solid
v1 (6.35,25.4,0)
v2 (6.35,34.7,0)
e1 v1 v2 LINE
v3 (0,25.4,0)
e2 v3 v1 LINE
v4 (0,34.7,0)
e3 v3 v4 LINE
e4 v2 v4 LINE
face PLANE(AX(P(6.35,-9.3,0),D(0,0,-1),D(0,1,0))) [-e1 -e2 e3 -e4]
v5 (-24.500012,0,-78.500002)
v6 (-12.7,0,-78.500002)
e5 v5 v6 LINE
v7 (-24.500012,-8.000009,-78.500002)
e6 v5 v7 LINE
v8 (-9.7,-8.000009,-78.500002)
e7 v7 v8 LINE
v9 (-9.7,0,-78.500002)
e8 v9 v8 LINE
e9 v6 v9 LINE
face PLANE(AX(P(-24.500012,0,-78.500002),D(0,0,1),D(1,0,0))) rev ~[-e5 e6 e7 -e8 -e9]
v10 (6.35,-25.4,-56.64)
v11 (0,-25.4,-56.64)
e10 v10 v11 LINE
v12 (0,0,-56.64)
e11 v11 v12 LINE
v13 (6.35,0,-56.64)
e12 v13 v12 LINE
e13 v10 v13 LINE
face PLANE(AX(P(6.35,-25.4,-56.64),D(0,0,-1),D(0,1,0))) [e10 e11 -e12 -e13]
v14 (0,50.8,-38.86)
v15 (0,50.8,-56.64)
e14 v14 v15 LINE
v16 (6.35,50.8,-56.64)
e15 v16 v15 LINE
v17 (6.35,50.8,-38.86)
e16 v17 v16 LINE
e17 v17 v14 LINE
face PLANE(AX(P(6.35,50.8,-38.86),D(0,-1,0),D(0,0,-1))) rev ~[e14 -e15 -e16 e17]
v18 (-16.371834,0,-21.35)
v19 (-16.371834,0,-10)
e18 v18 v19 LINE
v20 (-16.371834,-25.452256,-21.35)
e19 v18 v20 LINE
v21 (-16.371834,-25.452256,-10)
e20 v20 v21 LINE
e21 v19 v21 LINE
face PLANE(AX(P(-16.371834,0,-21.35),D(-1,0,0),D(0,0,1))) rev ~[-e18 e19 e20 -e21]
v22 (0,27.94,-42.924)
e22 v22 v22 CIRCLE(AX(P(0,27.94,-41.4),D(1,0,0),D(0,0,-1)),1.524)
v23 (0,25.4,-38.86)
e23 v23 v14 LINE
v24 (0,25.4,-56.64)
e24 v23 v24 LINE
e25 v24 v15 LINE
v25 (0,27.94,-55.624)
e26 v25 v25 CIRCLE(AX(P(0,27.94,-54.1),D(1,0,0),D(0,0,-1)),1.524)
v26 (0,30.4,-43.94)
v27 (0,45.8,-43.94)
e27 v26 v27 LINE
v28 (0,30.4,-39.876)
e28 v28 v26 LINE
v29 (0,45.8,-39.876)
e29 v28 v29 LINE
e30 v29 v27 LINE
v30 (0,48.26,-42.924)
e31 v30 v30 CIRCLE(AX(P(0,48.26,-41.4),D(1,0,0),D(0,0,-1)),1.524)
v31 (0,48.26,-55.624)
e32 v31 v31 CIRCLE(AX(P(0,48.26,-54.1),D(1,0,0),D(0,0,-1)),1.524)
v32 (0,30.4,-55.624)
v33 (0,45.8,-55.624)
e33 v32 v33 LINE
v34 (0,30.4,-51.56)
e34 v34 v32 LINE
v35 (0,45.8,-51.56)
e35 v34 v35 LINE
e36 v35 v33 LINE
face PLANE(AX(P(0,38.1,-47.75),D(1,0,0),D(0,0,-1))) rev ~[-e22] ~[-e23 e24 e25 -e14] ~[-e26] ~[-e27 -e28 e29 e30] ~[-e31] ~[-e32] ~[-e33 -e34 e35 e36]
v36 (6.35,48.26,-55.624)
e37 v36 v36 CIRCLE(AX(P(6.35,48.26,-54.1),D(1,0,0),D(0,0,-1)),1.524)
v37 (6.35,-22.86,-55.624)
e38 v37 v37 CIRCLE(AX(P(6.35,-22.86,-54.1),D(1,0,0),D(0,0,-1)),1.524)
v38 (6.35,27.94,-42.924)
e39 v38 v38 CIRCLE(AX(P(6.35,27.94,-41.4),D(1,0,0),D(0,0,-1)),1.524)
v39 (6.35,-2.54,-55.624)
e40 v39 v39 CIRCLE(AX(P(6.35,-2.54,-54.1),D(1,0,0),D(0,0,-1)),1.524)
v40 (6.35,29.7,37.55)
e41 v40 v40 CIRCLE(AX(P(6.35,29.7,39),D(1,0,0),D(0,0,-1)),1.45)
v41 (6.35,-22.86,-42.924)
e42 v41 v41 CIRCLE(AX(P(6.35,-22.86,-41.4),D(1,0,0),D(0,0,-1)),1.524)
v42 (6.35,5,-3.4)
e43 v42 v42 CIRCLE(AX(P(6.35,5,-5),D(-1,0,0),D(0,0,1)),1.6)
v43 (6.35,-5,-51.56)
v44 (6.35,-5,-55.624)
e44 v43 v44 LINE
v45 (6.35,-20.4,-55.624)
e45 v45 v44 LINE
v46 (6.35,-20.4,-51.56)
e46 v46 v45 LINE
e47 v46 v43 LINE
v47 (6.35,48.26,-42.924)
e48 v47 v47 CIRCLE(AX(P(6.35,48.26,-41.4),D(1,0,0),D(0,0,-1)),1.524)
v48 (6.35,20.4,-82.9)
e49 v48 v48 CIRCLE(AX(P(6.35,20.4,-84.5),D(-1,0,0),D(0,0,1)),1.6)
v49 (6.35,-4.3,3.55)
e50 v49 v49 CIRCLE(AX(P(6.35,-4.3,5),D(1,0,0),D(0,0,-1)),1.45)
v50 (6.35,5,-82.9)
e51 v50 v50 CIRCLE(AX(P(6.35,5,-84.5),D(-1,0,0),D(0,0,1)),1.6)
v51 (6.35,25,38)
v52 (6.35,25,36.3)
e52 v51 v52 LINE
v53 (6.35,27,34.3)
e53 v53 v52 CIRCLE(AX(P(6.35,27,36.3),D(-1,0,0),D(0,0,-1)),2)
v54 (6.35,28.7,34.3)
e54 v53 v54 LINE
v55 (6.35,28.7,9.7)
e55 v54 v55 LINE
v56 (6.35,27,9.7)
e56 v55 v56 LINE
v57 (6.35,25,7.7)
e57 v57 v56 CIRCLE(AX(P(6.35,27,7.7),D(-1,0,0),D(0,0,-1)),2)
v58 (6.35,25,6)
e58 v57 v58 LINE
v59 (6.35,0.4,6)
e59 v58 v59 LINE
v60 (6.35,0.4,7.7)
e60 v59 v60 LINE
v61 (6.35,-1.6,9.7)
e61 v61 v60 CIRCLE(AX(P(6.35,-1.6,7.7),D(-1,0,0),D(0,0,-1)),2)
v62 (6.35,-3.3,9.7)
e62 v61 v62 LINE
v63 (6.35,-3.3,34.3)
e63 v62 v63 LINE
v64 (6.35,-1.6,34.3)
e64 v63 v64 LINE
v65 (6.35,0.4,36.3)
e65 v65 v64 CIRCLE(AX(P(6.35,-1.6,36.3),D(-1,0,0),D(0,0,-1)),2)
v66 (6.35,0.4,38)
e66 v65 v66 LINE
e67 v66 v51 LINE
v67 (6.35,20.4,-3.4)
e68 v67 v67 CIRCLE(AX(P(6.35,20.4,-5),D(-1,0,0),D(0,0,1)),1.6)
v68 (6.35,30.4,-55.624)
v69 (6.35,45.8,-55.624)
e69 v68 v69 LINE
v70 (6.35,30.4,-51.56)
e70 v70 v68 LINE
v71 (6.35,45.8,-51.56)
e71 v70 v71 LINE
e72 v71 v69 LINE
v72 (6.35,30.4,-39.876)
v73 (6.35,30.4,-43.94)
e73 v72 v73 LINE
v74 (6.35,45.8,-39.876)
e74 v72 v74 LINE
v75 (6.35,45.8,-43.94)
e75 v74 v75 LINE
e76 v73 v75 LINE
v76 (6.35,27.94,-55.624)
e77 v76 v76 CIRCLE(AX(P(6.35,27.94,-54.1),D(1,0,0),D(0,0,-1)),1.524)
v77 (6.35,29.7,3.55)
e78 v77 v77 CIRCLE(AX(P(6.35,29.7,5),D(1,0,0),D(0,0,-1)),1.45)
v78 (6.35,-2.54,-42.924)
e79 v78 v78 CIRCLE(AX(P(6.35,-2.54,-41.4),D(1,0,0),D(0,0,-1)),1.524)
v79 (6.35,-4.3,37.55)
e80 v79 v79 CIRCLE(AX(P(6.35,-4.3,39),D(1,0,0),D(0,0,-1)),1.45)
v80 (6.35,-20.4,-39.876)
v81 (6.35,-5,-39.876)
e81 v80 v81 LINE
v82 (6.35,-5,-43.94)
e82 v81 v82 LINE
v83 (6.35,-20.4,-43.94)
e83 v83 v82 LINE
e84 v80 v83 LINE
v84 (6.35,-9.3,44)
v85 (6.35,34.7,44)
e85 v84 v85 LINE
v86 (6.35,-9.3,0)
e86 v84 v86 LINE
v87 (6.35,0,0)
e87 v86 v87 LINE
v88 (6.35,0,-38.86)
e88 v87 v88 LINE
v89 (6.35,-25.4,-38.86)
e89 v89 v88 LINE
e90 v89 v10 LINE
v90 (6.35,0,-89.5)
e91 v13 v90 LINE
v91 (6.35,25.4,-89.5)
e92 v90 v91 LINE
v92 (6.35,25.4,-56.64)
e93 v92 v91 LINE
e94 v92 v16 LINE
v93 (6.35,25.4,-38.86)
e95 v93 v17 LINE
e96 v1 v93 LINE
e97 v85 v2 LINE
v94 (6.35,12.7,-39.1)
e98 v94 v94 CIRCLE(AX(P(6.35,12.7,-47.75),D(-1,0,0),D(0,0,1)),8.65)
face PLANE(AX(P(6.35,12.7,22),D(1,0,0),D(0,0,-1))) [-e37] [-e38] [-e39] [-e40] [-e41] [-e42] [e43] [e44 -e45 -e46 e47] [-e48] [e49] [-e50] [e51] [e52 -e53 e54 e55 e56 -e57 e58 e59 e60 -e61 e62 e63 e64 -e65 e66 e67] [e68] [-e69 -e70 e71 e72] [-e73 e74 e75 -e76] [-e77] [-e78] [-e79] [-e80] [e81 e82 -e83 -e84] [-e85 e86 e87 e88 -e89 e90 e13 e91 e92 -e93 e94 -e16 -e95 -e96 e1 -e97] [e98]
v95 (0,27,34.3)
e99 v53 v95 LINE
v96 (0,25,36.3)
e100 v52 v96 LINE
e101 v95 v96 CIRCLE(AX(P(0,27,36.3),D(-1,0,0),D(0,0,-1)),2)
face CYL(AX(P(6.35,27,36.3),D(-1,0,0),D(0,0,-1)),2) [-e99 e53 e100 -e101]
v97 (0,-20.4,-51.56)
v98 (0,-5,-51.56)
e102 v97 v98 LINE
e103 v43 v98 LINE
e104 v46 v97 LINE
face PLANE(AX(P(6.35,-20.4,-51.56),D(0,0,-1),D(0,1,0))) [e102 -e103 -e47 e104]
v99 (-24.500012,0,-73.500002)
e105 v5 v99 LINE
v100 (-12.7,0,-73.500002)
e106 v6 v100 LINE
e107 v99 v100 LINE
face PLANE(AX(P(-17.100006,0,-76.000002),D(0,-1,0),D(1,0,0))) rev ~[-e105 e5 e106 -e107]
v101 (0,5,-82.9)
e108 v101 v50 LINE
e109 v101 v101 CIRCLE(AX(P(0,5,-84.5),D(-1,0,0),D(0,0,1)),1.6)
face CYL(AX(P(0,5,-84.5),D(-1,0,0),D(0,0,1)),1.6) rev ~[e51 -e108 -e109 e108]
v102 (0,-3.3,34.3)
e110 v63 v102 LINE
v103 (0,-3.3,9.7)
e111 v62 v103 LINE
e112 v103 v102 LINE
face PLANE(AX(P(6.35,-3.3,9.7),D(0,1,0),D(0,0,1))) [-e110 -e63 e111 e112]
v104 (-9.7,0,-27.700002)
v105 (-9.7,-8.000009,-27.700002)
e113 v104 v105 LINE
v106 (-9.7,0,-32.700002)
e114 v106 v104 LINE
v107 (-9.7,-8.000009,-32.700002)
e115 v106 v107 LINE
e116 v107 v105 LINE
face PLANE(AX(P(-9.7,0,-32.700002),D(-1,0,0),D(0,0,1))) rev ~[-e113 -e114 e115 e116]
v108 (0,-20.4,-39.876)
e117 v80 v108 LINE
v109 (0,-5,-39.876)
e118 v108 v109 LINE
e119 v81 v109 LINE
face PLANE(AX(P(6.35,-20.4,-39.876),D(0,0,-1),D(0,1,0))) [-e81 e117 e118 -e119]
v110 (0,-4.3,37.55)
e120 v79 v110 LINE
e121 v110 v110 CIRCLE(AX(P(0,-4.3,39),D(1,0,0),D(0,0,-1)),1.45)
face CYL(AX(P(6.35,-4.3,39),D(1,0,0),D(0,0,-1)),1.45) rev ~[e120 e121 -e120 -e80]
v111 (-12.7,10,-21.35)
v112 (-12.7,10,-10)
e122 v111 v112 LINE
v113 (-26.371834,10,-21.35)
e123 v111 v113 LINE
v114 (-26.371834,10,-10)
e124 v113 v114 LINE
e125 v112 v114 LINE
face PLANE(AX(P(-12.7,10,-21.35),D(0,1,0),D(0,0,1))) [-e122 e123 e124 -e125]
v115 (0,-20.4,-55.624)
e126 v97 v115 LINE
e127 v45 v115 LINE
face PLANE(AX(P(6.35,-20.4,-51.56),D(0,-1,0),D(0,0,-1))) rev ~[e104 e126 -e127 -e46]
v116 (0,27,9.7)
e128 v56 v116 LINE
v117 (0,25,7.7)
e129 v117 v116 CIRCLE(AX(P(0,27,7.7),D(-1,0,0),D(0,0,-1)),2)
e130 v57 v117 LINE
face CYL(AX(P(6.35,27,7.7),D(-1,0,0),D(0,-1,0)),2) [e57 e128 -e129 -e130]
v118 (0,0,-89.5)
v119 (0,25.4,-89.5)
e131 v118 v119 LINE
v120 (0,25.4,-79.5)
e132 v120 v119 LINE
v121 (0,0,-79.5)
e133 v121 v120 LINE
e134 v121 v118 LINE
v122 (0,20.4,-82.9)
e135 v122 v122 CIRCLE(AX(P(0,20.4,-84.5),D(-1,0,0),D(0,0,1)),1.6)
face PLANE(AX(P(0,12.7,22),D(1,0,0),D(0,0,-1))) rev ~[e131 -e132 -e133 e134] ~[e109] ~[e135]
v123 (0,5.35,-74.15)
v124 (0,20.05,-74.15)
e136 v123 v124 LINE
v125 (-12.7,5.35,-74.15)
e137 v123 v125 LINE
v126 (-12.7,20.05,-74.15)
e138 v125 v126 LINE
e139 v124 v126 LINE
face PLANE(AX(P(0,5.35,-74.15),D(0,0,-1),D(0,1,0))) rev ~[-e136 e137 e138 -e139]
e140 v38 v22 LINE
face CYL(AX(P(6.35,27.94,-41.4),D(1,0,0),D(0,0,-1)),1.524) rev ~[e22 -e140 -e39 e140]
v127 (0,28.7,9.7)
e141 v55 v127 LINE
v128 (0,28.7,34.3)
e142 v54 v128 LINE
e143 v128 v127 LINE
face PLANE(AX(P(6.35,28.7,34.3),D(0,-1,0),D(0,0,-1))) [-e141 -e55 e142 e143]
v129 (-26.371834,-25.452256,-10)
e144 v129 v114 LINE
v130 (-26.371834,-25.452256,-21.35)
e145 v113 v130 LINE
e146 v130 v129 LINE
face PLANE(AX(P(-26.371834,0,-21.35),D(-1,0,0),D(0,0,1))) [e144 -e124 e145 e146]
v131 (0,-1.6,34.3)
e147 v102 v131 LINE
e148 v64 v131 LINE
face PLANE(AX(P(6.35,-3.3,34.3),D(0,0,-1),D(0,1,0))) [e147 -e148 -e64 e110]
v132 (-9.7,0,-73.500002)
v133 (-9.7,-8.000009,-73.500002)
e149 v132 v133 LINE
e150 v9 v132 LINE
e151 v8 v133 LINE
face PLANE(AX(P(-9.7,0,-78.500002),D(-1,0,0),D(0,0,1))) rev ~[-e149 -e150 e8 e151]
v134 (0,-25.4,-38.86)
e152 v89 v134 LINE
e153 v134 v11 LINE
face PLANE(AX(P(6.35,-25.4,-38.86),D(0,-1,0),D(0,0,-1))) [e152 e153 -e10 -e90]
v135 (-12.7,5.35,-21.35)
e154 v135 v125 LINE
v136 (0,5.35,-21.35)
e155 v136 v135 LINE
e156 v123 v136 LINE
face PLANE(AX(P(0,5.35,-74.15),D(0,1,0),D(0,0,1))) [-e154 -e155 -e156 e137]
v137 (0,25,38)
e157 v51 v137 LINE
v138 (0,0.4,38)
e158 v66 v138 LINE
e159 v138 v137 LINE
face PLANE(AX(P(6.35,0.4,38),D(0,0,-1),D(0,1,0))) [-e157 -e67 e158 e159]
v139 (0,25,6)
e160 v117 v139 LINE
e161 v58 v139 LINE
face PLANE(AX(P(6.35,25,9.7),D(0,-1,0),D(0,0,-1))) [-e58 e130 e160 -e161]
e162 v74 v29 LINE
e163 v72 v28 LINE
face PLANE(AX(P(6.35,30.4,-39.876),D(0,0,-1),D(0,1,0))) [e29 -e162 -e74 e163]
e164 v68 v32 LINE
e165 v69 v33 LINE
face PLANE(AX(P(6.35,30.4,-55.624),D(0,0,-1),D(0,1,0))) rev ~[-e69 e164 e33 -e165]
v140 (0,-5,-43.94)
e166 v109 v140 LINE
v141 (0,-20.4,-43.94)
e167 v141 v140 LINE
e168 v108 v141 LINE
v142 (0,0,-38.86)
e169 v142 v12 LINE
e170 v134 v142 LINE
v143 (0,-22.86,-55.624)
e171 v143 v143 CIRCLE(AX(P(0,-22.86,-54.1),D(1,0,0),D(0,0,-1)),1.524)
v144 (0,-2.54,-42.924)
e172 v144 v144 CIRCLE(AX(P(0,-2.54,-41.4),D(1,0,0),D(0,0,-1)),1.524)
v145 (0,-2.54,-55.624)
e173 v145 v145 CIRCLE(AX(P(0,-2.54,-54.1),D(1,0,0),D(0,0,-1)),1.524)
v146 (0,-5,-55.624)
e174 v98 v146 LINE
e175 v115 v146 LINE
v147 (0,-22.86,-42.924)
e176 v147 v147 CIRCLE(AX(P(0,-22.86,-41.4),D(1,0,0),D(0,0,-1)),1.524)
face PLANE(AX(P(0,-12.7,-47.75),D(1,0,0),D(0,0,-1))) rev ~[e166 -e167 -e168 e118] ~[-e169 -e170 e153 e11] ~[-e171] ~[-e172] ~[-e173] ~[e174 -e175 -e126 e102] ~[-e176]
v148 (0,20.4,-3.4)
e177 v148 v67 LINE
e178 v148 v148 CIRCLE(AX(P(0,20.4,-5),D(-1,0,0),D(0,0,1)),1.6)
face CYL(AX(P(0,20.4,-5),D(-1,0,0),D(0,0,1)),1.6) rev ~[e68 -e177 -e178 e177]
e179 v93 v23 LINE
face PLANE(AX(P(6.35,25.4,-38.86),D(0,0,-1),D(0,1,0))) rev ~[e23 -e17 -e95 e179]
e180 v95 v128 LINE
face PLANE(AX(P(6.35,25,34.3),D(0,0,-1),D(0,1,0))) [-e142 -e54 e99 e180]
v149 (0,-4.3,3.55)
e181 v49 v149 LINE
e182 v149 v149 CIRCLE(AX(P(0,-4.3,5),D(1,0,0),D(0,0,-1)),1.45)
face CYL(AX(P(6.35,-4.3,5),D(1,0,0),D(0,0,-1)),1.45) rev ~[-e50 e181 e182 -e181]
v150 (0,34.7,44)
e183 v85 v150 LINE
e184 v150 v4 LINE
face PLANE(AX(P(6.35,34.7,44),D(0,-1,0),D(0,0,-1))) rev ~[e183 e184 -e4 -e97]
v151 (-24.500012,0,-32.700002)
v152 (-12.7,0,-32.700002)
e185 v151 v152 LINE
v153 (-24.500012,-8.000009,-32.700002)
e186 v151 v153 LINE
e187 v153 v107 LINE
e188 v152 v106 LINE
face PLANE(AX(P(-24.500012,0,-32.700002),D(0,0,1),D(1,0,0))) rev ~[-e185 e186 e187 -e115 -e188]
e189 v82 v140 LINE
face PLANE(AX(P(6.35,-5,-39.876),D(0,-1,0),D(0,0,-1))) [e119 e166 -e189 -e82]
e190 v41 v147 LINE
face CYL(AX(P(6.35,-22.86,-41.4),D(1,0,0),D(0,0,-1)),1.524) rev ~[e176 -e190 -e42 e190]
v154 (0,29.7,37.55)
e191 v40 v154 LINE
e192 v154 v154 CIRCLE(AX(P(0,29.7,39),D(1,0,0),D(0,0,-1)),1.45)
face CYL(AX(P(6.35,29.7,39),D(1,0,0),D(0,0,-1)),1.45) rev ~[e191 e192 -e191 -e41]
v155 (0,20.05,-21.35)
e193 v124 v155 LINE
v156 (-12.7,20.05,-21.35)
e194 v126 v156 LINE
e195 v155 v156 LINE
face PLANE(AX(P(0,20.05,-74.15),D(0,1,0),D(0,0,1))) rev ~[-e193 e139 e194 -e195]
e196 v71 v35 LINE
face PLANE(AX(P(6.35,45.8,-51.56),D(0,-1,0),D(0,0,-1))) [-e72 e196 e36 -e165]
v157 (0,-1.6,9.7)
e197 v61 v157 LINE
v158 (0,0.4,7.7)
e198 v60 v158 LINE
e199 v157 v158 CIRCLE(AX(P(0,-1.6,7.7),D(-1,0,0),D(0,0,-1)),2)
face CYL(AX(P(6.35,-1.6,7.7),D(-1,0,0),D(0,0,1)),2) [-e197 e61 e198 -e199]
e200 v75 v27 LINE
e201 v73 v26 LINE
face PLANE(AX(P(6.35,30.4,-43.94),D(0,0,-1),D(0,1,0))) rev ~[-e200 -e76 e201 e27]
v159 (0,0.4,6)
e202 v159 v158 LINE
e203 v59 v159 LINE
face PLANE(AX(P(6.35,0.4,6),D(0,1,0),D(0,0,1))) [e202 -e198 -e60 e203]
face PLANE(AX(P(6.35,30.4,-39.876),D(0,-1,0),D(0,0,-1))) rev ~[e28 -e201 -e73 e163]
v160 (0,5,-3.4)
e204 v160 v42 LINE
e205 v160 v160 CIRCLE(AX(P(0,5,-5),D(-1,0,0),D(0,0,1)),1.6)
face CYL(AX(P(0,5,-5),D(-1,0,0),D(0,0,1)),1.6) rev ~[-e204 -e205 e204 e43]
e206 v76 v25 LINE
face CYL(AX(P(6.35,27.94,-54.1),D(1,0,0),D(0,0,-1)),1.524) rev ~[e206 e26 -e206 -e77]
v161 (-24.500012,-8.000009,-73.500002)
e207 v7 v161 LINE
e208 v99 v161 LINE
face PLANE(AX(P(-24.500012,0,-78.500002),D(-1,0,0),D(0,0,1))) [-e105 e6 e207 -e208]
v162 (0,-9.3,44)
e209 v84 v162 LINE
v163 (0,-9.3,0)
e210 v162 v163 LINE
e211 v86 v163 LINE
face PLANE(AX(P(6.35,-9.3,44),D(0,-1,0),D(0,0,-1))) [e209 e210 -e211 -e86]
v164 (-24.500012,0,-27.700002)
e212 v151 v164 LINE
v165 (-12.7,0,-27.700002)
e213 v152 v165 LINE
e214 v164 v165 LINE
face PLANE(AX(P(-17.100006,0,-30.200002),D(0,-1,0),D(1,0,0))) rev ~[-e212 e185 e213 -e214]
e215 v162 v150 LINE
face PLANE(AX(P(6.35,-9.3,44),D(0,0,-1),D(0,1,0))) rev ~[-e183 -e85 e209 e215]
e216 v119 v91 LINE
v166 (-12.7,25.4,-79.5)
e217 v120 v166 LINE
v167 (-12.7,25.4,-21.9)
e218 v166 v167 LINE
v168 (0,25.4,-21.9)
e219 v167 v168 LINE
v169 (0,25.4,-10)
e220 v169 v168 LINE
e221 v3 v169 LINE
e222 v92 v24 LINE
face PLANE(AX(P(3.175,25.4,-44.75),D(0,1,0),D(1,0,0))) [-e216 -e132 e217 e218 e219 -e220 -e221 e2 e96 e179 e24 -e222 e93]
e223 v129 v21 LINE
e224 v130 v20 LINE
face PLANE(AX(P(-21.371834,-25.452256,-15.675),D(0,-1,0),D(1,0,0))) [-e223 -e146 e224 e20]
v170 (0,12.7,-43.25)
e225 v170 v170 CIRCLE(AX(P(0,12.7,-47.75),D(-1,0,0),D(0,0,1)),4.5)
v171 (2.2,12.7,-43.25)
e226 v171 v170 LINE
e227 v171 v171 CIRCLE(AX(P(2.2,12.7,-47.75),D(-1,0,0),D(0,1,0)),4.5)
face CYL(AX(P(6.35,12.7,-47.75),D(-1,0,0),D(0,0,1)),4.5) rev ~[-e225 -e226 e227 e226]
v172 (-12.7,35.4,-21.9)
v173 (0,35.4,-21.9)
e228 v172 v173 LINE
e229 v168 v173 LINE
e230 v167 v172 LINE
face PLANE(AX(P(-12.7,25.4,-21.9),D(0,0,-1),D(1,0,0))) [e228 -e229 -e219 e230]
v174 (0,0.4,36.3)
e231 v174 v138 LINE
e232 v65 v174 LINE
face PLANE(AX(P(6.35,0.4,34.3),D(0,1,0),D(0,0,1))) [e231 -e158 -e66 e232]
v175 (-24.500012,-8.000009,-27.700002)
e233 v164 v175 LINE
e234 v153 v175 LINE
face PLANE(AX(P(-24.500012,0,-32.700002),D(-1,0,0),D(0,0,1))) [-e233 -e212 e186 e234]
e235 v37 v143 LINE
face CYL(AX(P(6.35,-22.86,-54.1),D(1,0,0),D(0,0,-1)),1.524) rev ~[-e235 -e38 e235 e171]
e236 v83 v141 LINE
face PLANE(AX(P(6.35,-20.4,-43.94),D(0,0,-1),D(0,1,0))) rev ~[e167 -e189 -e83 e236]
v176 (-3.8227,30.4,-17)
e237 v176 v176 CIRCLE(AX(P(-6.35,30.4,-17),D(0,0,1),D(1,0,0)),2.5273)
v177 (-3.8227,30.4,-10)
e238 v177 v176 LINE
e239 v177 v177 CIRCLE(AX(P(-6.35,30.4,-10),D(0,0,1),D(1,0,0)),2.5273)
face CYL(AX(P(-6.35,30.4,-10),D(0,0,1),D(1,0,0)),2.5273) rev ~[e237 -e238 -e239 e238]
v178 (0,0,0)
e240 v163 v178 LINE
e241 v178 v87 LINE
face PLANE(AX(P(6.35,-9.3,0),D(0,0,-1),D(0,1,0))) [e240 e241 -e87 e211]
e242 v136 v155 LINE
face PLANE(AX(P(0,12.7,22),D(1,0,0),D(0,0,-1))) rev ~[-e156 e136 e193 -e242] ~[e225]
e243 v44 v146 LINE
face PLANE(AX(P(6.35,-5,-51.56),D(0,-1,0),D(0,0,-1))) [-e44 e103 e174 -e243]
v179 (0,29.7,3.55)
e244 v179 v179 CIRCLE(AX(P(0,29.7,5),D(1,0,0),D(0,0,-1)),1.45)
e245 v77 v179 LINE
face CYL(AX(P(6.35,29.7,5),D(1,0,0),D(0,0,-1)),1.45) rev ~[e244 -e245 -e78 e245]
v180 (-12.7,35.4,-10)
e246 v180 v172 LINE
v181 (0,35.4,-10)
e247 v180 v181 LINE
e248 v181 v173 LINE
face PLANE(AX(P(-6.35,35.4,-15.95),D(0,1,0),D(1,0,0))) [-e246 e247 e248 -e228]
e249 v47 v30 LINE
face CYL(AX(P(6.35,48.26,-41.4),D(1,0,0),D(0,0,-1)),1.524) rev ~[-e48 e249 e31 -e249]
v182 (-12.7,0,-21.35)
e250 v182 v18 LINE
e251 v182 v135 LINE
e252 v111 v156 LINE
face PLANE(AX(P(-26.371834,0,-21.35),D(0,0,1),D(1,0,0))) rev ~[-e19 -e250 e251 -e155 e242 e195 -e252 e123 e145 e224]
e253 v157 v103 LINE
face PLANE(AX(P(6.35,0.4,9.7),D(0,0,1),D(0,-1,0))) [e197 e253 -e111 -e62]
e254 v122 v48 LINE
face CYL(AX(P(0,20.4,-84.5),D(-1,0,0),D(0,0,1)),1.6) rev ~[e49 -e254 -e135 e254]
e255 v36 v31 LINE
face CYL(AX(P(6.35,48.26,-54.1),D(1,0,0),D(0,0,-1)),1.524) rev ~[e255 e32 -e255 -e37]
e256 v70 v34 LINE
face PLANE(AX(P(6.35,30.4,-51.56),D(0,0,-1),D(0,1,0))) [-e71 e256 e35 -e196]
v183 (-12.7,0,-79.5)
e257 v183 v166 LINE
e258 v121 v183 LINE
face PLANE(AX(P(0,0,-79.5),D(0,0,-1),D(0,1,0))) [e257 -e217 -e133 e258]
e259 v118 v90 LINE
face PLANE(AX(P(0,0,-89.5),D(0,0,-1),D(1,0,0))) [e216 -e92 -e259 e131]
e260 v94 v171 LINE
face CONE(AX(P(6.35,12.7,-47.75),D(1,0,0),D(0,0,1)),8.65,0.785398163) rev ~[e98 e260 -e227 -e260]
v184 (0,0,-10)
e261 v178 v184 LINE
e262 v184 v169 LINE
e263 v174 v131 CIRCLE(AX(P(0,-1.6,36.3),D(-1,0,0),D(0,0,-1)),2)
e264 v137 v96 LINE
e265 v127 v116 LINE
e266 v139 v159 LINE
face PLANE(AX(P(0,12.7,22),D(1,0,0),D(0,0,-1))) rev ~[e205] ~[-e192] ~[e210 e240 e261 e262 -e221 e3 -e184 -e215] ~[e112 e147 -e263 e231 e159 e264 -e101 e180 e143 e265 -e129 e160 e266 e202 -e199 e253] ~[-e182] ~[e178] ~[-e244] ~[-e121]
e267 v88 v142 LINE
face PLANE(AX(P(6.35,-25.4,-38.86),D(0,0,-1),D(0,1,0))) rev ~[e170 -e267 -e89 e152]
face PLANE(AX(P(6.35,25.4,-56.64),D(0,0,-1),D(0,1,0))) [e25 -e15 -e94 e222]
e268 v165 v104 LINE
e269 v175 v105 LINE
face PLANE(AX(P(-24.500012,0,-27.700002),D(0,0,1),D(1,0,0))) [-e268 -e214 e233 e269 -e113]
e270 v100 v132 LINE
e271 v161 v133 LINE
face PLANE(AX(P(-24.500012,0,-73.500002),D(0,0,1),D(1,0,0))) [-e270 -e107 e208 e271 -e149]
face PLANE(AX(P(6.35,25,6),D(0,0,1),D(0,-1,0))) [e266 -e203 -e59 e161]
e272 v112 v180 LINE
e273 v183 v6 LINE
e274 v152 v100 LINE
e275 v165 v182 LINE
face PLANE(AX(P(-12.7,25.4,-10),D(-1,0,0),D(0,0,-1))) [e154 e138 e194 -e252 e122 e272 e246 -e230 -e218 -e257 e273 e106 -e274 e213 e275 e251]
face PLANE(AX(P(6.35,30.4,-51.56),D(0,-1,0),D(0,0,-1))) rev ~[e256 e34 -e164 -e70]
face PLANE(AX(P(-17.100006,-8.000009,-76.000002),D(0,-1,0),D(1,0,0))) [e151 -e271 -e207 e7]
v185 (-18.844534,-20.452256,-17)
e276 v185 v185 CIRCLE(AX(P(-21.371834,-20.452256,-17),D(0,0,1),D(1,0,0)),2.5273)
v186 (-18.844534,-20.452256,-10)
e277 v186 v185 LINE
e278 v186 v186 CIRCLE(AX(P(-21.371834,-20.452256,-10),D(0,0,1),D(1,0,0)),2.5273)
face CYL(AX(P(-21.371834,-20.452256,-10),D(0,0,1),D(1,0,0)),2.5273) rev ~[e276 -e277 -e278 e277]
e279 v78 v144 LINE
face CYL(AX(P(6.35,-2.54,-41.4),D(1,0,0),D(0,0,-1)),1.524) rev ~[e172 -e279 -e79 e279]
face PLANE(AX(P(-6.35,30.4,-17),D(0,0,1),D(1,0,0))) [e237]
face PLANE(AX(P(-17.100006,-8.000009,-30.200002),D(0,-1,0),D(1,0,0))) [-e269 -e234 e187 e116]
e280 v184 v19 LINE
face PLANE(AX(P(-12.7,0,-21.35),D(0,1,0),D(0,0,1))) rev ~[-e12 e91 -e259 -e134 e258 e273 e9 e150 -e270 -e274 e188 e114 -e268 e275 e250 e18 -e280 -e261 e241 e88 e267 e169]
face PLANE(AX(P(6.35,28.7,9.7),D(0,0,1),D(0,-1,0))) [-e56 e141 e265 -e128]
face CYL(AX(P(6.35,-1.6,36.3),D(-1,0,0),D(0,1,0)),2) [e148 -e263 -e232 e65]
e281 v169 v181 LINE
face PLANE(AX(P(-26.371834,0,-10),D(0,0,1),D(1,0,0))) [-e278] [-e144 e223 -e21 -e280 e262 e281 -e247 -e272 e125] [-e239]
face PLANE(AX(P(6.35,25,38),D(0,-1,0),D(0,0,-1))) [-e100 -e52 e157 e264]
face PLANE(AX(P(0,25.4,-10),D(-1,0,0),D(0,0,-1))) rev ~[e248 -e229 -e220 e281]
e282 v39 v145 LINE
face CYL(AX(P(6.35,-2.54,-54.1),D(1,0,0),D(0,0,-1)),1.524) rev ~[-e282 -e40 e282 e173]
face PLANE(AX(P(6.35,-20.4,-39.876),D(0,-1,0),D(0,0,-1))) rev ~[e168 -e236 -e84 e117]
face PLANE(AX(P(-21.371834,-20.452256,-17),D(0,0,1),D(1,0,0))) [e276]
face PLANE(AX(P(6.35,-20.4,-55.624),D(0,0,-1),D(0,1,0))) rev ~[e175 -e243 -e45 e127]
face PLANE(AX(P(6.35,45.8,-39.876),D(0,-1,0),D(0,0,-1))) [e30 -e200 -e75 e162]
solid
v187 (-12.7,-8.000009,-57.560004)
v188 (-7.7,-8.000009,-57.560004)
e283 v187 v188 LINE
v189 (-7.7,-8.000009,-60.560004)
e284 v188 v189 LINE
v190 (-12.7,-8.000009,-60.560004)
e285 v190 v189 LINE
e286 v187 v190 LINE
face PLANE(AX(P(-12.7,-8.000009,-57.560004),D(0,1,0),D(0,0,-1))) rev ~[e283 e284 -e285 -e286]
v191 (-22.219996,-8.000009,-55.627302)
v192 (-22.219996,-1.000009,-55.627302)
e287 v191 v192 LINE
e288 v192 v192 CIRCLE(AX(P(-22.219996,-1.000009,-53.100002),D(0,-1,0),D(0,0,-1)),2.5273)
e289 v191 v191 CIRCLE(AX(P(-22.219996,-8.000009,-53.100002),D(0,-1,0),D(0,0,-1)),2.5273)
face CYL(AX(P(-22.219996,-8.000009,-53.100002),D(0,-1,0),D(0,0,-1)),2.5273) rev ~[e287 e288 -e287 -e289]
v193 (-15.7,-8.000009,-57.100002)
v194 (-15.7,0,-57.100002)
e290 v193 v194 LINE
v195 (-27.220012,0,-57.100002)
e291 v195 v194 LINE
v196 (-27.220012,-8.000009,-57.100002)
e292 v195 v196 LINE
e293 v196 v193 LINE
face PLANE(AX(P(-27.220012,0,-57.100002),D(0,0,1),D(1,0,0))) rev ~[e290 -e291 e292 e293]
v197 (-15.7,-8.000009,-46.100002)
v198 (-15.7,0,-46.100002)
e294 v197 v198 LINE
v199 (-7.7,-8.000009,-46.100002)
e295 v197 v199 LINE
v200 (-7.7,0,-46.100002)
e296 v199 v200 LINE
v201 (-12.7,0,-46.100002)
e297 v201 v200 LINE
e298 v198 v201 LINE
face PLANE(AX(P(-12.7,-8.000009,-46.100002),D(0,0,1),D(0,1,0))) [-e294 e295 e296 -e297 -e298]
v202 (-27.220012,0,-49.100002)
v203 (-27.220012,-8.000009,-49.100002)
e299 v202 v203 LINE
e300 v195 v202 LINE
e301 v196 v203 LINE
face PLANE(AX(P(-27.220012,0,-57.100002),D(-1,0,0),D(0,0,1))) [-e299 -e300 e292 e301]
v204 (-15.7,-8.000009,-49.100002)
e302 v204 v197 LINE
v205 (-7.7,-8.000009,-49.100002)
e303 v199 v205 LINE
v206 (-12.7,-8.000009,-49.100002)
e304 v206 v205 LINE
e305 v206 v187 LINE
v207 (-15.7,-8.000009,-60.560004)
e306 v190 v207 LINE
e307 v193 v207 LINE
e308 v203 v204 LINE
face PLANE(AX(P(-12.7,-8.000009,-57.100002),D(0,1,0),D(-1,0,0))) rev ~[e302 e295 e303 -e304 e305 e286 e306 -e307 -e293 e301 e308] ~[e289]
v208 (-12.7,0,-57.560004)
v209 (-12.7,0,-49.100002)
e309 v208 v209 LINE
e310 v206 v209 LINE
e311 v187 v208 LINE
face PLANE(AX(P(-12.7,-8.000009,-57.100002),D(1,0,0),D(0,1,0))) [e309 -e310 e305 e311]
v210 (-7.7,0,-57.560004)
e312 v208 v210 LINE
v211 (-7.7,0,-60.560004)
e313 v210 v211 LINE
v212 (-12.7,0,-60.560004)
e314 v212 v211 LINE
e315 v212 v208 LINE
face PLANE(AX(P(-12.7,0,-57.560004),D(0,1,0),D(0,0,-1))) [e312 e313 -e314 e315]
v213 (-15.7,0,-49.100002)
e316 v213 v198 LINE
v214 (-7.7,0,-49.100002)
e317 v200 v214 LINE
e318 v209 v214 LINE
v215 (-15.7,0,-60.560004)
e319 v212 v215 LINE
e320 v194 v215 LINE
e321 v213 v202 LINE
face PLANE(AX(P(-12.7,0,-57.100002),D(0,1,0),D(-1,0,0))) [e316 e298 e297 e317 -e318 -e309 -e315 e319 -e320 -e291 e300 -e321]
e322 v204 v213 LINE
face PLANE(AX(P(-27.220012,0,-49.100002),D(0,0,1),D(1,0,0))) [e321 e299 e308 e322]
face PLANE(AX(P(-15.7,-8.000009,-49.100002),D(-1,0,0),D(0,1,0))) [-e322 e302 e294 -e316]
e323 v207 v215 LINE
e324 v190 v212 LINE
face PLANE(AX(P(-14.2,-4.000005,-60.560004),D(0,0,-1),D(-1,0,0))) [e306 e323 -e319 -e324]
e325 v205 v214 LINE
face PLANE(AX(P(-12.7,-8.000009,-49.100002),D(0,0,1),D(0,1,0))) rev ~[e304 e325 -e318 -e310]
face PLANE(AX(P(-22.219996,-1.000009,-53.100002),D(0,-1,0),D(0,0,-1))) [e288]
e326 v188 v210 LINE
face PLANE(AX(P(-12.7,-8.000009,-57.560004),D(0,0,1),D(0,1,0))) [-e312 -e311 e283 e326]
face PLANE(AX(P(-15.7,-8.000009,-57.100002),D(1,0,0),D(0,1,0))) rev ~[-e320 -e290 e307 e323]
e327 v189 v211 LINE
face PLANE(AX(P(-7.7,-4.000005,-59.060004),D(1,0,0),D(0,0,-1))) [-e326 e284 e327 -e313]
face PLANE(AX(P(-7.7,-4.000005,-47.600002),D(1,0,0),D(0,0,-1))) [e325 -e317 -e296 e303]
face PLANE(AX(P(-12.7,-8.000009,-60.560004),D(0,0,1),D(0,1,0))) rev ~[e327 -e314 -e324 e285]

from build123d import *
from build123d.topology import SkipClean

# Parameters (mm, degrees)
SKETCH1_W                                       = 6.35
SKETCH1_H                                       = 89.5
BOSS_EXTRUDE1_DEPTH                             = 25.4
SKETCH4_W                                       = 44
SKETCH4_H                                       = 44
SKETCH4_R                                       = 1.45
BOSS_EXTRUDE2_DEPTH                             = 6.35
CSK_FOR_M8_FLAT_HEAD_MACHINE_SCREW1_D           = 9
CSK_FOR_M8_FLAT_HEAD_MACHINE_SCREW1_DEPTH       = 17.5
CSK_FOR_M8_FLAT_HEAD_MACHINE_SCREW1_CSINK_D     = 17.3
CSK_FOR_M8_FLAT_HEAD_MACHINE_SCREW1_CSINK_ANGLE = 90
CSK_FOR_M8_FLAT_HEAD_MACHINE_SCREW1_TIP         = 2.703872786
SKETCH2_W                                       = 69.5
SKETCH2_H                                       = 25.4
SKETCH2_W_2                                     = 52.8
SKETCH2_H_2                                     = 14.7
BOSS_EXTRUDE3_DEPTH                             = 12.7
SKETCH9_R                                       = 1.6
CUT_EXTRUDE1_DEPTH                              = 6.35
SKETCH10_W                                      = 17.78
SKETCH10_H                                      = 25.4
SKETCH10_R                                      = 1.524
BOSS_EXTRUDE4_DEPTH                             = 6.35
SKETCH11_W                                      = 4.064
SKETCH11_H                                      = 15.4
CUT_EXTRUDE2_DEPTH                              = 6.35
SKETCH14_W                                      = 12.7
SKETCH14_H                                      = 11.9
BOSS_EXTRUDE5_DEPTH                             = 10
SKETCH15_R                                      = 2.5273
CUT_EXTRUDE4_DEPTH                              = 7
SKETCH16_W                                      = 11.35
SKETCH16_H                                      = 10
BOSS_EXTRUDE6_DEPTH                             = 13.671834
SKETCH17_W                                      = 10
SKETCH17_H                                      = 11.35
BOSS_EXTRUDE7_DEPTH                             = 25.452256
SKETCH18_R                                      = 2.5273
CUT_EXTRUDE5_DEPTH                              = 7
SKETCH19_W                                      = 5.3384296
SKETCH19_H                                      = 10
BOSS_EXTRUDE8_DEPTH                             = 5.35
SKETCH21_W                                      = 14.8000118
SKETCH21_H                                      = 5
SKETCH21_W_2                                    = 14.5200118
SKETCH21_H_2                                    = 8
BOSS_EXTRUDE9_DEPTH                             = 8.0000094
SKETCH25_W                                      = 10
SKETCH25_H                                      = 5.35
CUT_EXTRUDE7_DEPTH                              = 5.3384296
CUT_EXTRUDE8_DEPTH                              = 6.35
FILLET1_R                                       = 2
SKETCH27_R                                      = 2.5273
CUT_EXTRUDE10_DEPTH                             = 7
SKETCH29_W                                      = 3
SKETCH29_H                                      = 8.0000094
BOSS_EXTRUDE10_DEPTH                            = 3
SKETCH30_W                                      = 3
SKETCH30_H                                      = 8.00000936
BOSS_EXTRUDE14_DEPTH                            = 5
SKETCH31_W                                      = 3
SKETCH31_H                                      = 8.0000094
BOSS_EXTRUDE15_DEPTH                            = 3.460002
SKETCH32_W                                      = 3
SKETCH32_H                                      = 8.00000914
BOSS_EXTRUDE17_DEPTH                            = 5


with BuildPart() as part:
    # Sketch1 → Boss-Extrude1 (new body)
    with BuildSketch(Plane(origin=(0, 0, 0), x_dir=(1, 0, 0), z_dir=(0, 1, 0))):
        with Locations((3.175, 44.75)):
            Rectangle(SKETCH1_W, SKETCH1_H)
    extrude(amount=BOSS_EXTRUDE1_DEPTH)

    # Sketch4 → Boss-Extrude2 (add)
    with BuildSketch(Plane(origin=(6.35, 0, 0), x_dir=(0, 0, -1), z_dir=(1, 0, 0))):
        with Locations((-22, 12.7)):
            Rectangle(SKETCH4_W, SKETCH4_H)
        with Locations((-39, 29.7)):
            Circle(SKETCH4_R, mode=Mode.SUBTRACT)
        with Locations((-5, 29.7)):
            Circle(SKETCH4_R, mode=Mode.SUBTRACT)
        with Locations((-39, -4.3)):
            Circle(SKETCH4_R, mode=Mode.SUBTRACT)
        with Locations((-5, -4.3)):
            Circle(SKETCH4_R, mode=Mode.SUBTRACT)
    extrude(amount=-BOSS_EXTRUDE2_DEPTH)

    # CSK for M8 Flat Head Machine Screw1
    with Locations(Plane(origin=(6.35, 0, 0), x_dir=(0, 0, -1), z_dir=(1, 0, 0))):
        with Locations((47.75, 12.7)):
            CounterSinkHole(CSK_FOR_M8_FLAT_HEAD_MACHINE_SCREW1_D / 2, CSK_FOR_M8_FLAT_HEAD_MACHINE_SCREW1_CSINK_D / 2, depth=CSK_FOR_M8_FLAT_HEAD_MACHINE_SCREW1_DEPTH, counter_sink_angle=CSK_FOR_M8_FLAT_HEAD_MACHINE_SCREW1_CSINK_ANGLE)
            with Locations((0, 0, -(CSK_FOR_M8_FLAT_HEAD_MACHINE_SCREW1_DEPTH + CSK_FOR_M8_FLAT_HEAD_MACHINE_SCREW1_TIP / 2))):  # 118° drill point
                Cone(0, CSK_FOR_M8_FLAT_HEAD_MACHINE_SCREW1_D / 2, CSK_FOR_M8_FLAT_HEAD_MACHINE_SCREW1_TIP, mode=Mode.SUBTRACT)

    # Sketch2 → Boss-Extrude3 (add)
    with BuildSketch(Plane.ZY):
        with Locations((-44.75, 12.7)):
            Rectangle(SKETCH2_W, SKETCH2_H)
        with Locations((-47.75, 12.7)):
            Rectangle(SKETCH2_W_2, SKETCH2_H_2, mode=Mode.SUBTRACT)
    extrude(amount=BOSS_EXTRUDE3_DEPTH)

    # Sketch9 → Cut-Extrude1 (cut)
    with BuildSketch(Plane.ZY):
        with Locations((-5, 20.4)):
            Circle(SKETCH9_R)
        with Locations((-5, 5)):
            Circle(SKETCH9_R)
        with Locations((-84.5, 5)):
            Circle(SKETCH9_R)
        with Locations((-84.5, 20.4)):
            Circle(SKETCH9_R)
    extrude(amount=-CUT_EXTRUDE1_DEPTH, mode=Mode.SUBTRACT)

    # Sketch10 → Boss-Extrude4 (add)
    with BuildSketch(Plane(origin=(6.35, 0, 0), x_dir=(0, 0, -1), z_dir=(1, 0, 0))):
        with Locations((47.75, 38.1)):
            Rectangle(SKETCH10_W, SKETCH10_H)
        with Locations((41.4, 27.94)):
            Circle(SKETCH10_R, mode=Mode.SUBTRACT)
        with Locations((54.1, 27.94)):
            Circle(SKETCH10_R, mode=Mode.SUBTRACT)
        with Locations((54.1, 48.26)):
            Circle(SKETCH10_R, mode=Mode.SUBTRACT)
        with Locations((41.4, 48.26)):
            Circle(SKETCH10_R, mode=Mode.SUBTRACT)
        with Locations((47.75, -12.7)):
            Rectangle(SKETCH10_W, SKETCH10_H)
        with Locations((41.4, -2.54)):
            Circle(SKETCH10_R, mode=Mode.SUBTRACT)
        with Locations((54.1, -2.54)):
            Circle(SKETCH10_R, mode=Mode.SUBTRACT)
        with Locations((41.4, -22.86)):
            Circle(SKETCH10_R, mode=Mode.SUBTRACT)
        with Locations((54.1, -22.86)):
            Circle(SKETCH10_R, mode=Mode.SUBTRACT)
    extrude(amount=-BOSS_EXTRUDE4_DEPTH)

    # Sketch11 → Cut-Extrude2 (cut)
    with BuildSketch(Plane(origin=(6.35, 0, 0), x_dir=(0, 0, -1), z_dir=(1, 0, 0))):
        with Locations((41.908, -12.7)):
            Rectangle(SKETCH11_W, SKETCH11_H)
        with Locations((53.592, -12.7)):
            Rectangle(SKETCH11_W, SKETCH11_H)
        with Locations((41.908, 38.1)):
            Rectangle(SKETCH11_W, SKETCH11_H)
        with Locations((53.592, 38.1)):
            Rectangle(SKETCH11_W, SKETCH11_H)
    extrude(amount=-CUT_EXTRUDE2_DEPTH, mode=Mode.SUBTRACT)

    # Sketch14 → Boss-Extrude5 (add)
    with BuildSketch(Plane(origin=(0, 25.4, 0), x_dir=(1, 0, 0), z_dir=(0, 1, 0))):
        with Locations((-6.35, 15.95)):
            Rectangle(SKETCH14_W, SKETCH14_H)
    extrude(amount=BOSS_EXTRUDE5_DEPTH)

    # Sketch15 → Cut-Extrude4 (cut)
    with BuildSketch(Plane.XY.offset(-10)):
        with Locations((-6.35, 30.4)):
            Circle(SKETCH15_R)
    extrude(amount=-CUT_EXTRUDE4_DEPTH, mode=Mode.SUBTRACT)

    # Sketch16 → Boss-Extrude6 (add)
    with BuildSketch(Plane.ZY.offset(12.7)):
        with Locations((-15.675, 5)):
            Rectangle(SKETCH16_W, SKETCH16_H)
    extrude(amount=BOSS_EXTRUDE6_DEPTH)

    # Sketch17 → Boss-Extrude7 (add)
    with BuildSketch(Plane.XZ):
        with Locations((-21.371834, -15.675)):
            Rectangle(SKETCH17_W, SKETCH17_H)
    extrude(amount=BOSS_EXTRUDE7_DEPTH)

    # Sketch18 → Cut-Extrude5 (cut)
    with BuildSketch(Plane.XY.offset(-10)):
        with Locations((-21.371834, -20.452256)):
            Circle(SKETCH18_R)
    extrude(amount=-CUT_EXTRUDE5_DEPTH, mode=Mode.SUBTRACT)

    # Sketch19 → Boss-Extrude8 (add)
    with BuildSketch(Plane.XZ):
        with Locations((-15.3692148, -52.925)):
            Rectangle(SKETCH19_W, SKETCH19_H)
    extrude(amount=-BOSS_EXTRUDE8_DEPTH)

    # Sketch21 → Boss-Extrude9 (add)
    with BuildSketch(Plane.XZ):
        with Locations((-17.1000059, -30.200002)):
            Rectangle(SKETCH21_W, SKETCH21_H)
        with Locations((-17.1000059, -76.000002)):
            Rectangle(SKETCH21_W, SKETCH21_H)
        with Locations((-19.9600059, -53.100002)):
            Rectangle(SKETCH21_W_2, SKETCH21_H_2)
    extrude(amount=BOSS_EXTRUDE9_DEPTH)

    # Sketch25 → Cut-Extrude7 (cut)
    with BuildSketch(Plane.ZY.offset(18.0384296)):
        with Locations((-52.925, 2.675)):
            Rectangle(SKETCH25_W, SKETCH25_H)
    extrude(amount=-CUT_EXTRUDE7_DEPTH, mode=Mode.SUBTRACT)


with BuildPart() as cut_extrude7_piece_1:
    # of the separate pieces the step leaves, piece 1, a body of its own (cut_extrude7_pieces)
    add(part.part.solids().sort_by_distance((6.35, 34.7, 0))[0])

    # Sketch26 → Cut-Extrude8 (cut)
    with BuildSketch(Plane(origin=(6.35, 0, 0), x_dir=(0, 0, -1), z_dir=(1, 0, 0))):
        Polygon((-34.3, 28.7), (-9.7, 28.7), (-9.7, 25), (-6, 25), (-6, 0.4), (-9.7, 0.4), (-9.7, -3.3), (-34.3, -3.3), (-34.3, 0.4), (-38, 0.4), (-38, 25), (-34.3, 25), align=None)
    extrude(amount=-CUT_EXTRUDE8_DEPTH, mode=Mode.SUBTRACT)

    # Fillet1
    fillet1_edges = [cut_extrude7_piece_1.edges().sort_by_distance(p)[0] for p in [
        (3.175, 25, 9.7),
        (3.175, 0.4, 9.7),
        (3.175, 0.4, 34.3),
        (3.175, 25, 34.3),
    ]]
    fillet(fillet1_edges, radius=FILLET1_R)


with BuildPart() as cut_extrude7_piece_2:
    # of the separate pieces the step leaves, piece 2, a body of its own (cut_extrude7_pieces)
    add(part.part.solids().sort_by_distance((-12.7, -8.0000094, -49.100002))[0])

    # Sketch27 → Cut-Extrude10 (cut)
    with BuildSketch(Plane.XZ.offset(8.0000094)):
        with Locations(Location((-22.2199964, -53.100002, 0), (0, 0, 270))):
            Circle(SKETCH27_R)
    extrude(amount=-CUT_EXTRUDE10_DEPTH, mode=Mode.SUBTRACT)

    # Sketch29 → Boss-Extrude10 (add)
    with BuildSketch(Plane.XY.offset(-49.100002)):
        with Locations((-14.2, -4.0000047)):
            Rectangle(SKETCH29_W, SKETCH29_H)
    extrude(amount=BOSS_EXTRUDE10_DEPTH)

    # Sketch30 → Boss-Extrude14 (add)
    with BuildSketch(Plane(origin=(-12.7, 0, 0), x_dir=(0, 0, -1), z_dir=(1, 0, 0))):
        with Locations((47.600002, -4.00000472)):
            Rectangle(SKETCH30_W, SKETCH30_H)
    extrude(amount=BOSS_EXTRUDE14_DEPTH)

    # Sketch31 → Boss-Extrude15 (add)
    with BuildSketch(Plane(origin=(0, 0, -57.100002), x_dir=(-1, 0, 0), z_dir=(0, 0, -1))):
        with Locations((14.2, -4.0000047)):
            Rectangle(SKETCH31_W, SKETCH31_H)
    extrude(amount=BOSS_EXTRUDE15_DEPTH)

    # Sketch32 → Boss-Extrude17 (add)
    with SkipClean():  # the faces are left unmerged after this step: merging them gives an invalid solid
        with BuildSketch(Plane(origin=(-12.7, 0, 0), x_dir=(0, 0, -1), z_dir=(1, 0, 0))):
            with Locations((59.060004, -4.00000483)):
                Rectangle(SKETCH32_W, SKETCH32_H)
        extrude(amount=BOSS_EXTRUDE17_DEPTH)


solid = Compound([cut_extrude7_piece_1.part, cut_extrude7_piece_2.part])
